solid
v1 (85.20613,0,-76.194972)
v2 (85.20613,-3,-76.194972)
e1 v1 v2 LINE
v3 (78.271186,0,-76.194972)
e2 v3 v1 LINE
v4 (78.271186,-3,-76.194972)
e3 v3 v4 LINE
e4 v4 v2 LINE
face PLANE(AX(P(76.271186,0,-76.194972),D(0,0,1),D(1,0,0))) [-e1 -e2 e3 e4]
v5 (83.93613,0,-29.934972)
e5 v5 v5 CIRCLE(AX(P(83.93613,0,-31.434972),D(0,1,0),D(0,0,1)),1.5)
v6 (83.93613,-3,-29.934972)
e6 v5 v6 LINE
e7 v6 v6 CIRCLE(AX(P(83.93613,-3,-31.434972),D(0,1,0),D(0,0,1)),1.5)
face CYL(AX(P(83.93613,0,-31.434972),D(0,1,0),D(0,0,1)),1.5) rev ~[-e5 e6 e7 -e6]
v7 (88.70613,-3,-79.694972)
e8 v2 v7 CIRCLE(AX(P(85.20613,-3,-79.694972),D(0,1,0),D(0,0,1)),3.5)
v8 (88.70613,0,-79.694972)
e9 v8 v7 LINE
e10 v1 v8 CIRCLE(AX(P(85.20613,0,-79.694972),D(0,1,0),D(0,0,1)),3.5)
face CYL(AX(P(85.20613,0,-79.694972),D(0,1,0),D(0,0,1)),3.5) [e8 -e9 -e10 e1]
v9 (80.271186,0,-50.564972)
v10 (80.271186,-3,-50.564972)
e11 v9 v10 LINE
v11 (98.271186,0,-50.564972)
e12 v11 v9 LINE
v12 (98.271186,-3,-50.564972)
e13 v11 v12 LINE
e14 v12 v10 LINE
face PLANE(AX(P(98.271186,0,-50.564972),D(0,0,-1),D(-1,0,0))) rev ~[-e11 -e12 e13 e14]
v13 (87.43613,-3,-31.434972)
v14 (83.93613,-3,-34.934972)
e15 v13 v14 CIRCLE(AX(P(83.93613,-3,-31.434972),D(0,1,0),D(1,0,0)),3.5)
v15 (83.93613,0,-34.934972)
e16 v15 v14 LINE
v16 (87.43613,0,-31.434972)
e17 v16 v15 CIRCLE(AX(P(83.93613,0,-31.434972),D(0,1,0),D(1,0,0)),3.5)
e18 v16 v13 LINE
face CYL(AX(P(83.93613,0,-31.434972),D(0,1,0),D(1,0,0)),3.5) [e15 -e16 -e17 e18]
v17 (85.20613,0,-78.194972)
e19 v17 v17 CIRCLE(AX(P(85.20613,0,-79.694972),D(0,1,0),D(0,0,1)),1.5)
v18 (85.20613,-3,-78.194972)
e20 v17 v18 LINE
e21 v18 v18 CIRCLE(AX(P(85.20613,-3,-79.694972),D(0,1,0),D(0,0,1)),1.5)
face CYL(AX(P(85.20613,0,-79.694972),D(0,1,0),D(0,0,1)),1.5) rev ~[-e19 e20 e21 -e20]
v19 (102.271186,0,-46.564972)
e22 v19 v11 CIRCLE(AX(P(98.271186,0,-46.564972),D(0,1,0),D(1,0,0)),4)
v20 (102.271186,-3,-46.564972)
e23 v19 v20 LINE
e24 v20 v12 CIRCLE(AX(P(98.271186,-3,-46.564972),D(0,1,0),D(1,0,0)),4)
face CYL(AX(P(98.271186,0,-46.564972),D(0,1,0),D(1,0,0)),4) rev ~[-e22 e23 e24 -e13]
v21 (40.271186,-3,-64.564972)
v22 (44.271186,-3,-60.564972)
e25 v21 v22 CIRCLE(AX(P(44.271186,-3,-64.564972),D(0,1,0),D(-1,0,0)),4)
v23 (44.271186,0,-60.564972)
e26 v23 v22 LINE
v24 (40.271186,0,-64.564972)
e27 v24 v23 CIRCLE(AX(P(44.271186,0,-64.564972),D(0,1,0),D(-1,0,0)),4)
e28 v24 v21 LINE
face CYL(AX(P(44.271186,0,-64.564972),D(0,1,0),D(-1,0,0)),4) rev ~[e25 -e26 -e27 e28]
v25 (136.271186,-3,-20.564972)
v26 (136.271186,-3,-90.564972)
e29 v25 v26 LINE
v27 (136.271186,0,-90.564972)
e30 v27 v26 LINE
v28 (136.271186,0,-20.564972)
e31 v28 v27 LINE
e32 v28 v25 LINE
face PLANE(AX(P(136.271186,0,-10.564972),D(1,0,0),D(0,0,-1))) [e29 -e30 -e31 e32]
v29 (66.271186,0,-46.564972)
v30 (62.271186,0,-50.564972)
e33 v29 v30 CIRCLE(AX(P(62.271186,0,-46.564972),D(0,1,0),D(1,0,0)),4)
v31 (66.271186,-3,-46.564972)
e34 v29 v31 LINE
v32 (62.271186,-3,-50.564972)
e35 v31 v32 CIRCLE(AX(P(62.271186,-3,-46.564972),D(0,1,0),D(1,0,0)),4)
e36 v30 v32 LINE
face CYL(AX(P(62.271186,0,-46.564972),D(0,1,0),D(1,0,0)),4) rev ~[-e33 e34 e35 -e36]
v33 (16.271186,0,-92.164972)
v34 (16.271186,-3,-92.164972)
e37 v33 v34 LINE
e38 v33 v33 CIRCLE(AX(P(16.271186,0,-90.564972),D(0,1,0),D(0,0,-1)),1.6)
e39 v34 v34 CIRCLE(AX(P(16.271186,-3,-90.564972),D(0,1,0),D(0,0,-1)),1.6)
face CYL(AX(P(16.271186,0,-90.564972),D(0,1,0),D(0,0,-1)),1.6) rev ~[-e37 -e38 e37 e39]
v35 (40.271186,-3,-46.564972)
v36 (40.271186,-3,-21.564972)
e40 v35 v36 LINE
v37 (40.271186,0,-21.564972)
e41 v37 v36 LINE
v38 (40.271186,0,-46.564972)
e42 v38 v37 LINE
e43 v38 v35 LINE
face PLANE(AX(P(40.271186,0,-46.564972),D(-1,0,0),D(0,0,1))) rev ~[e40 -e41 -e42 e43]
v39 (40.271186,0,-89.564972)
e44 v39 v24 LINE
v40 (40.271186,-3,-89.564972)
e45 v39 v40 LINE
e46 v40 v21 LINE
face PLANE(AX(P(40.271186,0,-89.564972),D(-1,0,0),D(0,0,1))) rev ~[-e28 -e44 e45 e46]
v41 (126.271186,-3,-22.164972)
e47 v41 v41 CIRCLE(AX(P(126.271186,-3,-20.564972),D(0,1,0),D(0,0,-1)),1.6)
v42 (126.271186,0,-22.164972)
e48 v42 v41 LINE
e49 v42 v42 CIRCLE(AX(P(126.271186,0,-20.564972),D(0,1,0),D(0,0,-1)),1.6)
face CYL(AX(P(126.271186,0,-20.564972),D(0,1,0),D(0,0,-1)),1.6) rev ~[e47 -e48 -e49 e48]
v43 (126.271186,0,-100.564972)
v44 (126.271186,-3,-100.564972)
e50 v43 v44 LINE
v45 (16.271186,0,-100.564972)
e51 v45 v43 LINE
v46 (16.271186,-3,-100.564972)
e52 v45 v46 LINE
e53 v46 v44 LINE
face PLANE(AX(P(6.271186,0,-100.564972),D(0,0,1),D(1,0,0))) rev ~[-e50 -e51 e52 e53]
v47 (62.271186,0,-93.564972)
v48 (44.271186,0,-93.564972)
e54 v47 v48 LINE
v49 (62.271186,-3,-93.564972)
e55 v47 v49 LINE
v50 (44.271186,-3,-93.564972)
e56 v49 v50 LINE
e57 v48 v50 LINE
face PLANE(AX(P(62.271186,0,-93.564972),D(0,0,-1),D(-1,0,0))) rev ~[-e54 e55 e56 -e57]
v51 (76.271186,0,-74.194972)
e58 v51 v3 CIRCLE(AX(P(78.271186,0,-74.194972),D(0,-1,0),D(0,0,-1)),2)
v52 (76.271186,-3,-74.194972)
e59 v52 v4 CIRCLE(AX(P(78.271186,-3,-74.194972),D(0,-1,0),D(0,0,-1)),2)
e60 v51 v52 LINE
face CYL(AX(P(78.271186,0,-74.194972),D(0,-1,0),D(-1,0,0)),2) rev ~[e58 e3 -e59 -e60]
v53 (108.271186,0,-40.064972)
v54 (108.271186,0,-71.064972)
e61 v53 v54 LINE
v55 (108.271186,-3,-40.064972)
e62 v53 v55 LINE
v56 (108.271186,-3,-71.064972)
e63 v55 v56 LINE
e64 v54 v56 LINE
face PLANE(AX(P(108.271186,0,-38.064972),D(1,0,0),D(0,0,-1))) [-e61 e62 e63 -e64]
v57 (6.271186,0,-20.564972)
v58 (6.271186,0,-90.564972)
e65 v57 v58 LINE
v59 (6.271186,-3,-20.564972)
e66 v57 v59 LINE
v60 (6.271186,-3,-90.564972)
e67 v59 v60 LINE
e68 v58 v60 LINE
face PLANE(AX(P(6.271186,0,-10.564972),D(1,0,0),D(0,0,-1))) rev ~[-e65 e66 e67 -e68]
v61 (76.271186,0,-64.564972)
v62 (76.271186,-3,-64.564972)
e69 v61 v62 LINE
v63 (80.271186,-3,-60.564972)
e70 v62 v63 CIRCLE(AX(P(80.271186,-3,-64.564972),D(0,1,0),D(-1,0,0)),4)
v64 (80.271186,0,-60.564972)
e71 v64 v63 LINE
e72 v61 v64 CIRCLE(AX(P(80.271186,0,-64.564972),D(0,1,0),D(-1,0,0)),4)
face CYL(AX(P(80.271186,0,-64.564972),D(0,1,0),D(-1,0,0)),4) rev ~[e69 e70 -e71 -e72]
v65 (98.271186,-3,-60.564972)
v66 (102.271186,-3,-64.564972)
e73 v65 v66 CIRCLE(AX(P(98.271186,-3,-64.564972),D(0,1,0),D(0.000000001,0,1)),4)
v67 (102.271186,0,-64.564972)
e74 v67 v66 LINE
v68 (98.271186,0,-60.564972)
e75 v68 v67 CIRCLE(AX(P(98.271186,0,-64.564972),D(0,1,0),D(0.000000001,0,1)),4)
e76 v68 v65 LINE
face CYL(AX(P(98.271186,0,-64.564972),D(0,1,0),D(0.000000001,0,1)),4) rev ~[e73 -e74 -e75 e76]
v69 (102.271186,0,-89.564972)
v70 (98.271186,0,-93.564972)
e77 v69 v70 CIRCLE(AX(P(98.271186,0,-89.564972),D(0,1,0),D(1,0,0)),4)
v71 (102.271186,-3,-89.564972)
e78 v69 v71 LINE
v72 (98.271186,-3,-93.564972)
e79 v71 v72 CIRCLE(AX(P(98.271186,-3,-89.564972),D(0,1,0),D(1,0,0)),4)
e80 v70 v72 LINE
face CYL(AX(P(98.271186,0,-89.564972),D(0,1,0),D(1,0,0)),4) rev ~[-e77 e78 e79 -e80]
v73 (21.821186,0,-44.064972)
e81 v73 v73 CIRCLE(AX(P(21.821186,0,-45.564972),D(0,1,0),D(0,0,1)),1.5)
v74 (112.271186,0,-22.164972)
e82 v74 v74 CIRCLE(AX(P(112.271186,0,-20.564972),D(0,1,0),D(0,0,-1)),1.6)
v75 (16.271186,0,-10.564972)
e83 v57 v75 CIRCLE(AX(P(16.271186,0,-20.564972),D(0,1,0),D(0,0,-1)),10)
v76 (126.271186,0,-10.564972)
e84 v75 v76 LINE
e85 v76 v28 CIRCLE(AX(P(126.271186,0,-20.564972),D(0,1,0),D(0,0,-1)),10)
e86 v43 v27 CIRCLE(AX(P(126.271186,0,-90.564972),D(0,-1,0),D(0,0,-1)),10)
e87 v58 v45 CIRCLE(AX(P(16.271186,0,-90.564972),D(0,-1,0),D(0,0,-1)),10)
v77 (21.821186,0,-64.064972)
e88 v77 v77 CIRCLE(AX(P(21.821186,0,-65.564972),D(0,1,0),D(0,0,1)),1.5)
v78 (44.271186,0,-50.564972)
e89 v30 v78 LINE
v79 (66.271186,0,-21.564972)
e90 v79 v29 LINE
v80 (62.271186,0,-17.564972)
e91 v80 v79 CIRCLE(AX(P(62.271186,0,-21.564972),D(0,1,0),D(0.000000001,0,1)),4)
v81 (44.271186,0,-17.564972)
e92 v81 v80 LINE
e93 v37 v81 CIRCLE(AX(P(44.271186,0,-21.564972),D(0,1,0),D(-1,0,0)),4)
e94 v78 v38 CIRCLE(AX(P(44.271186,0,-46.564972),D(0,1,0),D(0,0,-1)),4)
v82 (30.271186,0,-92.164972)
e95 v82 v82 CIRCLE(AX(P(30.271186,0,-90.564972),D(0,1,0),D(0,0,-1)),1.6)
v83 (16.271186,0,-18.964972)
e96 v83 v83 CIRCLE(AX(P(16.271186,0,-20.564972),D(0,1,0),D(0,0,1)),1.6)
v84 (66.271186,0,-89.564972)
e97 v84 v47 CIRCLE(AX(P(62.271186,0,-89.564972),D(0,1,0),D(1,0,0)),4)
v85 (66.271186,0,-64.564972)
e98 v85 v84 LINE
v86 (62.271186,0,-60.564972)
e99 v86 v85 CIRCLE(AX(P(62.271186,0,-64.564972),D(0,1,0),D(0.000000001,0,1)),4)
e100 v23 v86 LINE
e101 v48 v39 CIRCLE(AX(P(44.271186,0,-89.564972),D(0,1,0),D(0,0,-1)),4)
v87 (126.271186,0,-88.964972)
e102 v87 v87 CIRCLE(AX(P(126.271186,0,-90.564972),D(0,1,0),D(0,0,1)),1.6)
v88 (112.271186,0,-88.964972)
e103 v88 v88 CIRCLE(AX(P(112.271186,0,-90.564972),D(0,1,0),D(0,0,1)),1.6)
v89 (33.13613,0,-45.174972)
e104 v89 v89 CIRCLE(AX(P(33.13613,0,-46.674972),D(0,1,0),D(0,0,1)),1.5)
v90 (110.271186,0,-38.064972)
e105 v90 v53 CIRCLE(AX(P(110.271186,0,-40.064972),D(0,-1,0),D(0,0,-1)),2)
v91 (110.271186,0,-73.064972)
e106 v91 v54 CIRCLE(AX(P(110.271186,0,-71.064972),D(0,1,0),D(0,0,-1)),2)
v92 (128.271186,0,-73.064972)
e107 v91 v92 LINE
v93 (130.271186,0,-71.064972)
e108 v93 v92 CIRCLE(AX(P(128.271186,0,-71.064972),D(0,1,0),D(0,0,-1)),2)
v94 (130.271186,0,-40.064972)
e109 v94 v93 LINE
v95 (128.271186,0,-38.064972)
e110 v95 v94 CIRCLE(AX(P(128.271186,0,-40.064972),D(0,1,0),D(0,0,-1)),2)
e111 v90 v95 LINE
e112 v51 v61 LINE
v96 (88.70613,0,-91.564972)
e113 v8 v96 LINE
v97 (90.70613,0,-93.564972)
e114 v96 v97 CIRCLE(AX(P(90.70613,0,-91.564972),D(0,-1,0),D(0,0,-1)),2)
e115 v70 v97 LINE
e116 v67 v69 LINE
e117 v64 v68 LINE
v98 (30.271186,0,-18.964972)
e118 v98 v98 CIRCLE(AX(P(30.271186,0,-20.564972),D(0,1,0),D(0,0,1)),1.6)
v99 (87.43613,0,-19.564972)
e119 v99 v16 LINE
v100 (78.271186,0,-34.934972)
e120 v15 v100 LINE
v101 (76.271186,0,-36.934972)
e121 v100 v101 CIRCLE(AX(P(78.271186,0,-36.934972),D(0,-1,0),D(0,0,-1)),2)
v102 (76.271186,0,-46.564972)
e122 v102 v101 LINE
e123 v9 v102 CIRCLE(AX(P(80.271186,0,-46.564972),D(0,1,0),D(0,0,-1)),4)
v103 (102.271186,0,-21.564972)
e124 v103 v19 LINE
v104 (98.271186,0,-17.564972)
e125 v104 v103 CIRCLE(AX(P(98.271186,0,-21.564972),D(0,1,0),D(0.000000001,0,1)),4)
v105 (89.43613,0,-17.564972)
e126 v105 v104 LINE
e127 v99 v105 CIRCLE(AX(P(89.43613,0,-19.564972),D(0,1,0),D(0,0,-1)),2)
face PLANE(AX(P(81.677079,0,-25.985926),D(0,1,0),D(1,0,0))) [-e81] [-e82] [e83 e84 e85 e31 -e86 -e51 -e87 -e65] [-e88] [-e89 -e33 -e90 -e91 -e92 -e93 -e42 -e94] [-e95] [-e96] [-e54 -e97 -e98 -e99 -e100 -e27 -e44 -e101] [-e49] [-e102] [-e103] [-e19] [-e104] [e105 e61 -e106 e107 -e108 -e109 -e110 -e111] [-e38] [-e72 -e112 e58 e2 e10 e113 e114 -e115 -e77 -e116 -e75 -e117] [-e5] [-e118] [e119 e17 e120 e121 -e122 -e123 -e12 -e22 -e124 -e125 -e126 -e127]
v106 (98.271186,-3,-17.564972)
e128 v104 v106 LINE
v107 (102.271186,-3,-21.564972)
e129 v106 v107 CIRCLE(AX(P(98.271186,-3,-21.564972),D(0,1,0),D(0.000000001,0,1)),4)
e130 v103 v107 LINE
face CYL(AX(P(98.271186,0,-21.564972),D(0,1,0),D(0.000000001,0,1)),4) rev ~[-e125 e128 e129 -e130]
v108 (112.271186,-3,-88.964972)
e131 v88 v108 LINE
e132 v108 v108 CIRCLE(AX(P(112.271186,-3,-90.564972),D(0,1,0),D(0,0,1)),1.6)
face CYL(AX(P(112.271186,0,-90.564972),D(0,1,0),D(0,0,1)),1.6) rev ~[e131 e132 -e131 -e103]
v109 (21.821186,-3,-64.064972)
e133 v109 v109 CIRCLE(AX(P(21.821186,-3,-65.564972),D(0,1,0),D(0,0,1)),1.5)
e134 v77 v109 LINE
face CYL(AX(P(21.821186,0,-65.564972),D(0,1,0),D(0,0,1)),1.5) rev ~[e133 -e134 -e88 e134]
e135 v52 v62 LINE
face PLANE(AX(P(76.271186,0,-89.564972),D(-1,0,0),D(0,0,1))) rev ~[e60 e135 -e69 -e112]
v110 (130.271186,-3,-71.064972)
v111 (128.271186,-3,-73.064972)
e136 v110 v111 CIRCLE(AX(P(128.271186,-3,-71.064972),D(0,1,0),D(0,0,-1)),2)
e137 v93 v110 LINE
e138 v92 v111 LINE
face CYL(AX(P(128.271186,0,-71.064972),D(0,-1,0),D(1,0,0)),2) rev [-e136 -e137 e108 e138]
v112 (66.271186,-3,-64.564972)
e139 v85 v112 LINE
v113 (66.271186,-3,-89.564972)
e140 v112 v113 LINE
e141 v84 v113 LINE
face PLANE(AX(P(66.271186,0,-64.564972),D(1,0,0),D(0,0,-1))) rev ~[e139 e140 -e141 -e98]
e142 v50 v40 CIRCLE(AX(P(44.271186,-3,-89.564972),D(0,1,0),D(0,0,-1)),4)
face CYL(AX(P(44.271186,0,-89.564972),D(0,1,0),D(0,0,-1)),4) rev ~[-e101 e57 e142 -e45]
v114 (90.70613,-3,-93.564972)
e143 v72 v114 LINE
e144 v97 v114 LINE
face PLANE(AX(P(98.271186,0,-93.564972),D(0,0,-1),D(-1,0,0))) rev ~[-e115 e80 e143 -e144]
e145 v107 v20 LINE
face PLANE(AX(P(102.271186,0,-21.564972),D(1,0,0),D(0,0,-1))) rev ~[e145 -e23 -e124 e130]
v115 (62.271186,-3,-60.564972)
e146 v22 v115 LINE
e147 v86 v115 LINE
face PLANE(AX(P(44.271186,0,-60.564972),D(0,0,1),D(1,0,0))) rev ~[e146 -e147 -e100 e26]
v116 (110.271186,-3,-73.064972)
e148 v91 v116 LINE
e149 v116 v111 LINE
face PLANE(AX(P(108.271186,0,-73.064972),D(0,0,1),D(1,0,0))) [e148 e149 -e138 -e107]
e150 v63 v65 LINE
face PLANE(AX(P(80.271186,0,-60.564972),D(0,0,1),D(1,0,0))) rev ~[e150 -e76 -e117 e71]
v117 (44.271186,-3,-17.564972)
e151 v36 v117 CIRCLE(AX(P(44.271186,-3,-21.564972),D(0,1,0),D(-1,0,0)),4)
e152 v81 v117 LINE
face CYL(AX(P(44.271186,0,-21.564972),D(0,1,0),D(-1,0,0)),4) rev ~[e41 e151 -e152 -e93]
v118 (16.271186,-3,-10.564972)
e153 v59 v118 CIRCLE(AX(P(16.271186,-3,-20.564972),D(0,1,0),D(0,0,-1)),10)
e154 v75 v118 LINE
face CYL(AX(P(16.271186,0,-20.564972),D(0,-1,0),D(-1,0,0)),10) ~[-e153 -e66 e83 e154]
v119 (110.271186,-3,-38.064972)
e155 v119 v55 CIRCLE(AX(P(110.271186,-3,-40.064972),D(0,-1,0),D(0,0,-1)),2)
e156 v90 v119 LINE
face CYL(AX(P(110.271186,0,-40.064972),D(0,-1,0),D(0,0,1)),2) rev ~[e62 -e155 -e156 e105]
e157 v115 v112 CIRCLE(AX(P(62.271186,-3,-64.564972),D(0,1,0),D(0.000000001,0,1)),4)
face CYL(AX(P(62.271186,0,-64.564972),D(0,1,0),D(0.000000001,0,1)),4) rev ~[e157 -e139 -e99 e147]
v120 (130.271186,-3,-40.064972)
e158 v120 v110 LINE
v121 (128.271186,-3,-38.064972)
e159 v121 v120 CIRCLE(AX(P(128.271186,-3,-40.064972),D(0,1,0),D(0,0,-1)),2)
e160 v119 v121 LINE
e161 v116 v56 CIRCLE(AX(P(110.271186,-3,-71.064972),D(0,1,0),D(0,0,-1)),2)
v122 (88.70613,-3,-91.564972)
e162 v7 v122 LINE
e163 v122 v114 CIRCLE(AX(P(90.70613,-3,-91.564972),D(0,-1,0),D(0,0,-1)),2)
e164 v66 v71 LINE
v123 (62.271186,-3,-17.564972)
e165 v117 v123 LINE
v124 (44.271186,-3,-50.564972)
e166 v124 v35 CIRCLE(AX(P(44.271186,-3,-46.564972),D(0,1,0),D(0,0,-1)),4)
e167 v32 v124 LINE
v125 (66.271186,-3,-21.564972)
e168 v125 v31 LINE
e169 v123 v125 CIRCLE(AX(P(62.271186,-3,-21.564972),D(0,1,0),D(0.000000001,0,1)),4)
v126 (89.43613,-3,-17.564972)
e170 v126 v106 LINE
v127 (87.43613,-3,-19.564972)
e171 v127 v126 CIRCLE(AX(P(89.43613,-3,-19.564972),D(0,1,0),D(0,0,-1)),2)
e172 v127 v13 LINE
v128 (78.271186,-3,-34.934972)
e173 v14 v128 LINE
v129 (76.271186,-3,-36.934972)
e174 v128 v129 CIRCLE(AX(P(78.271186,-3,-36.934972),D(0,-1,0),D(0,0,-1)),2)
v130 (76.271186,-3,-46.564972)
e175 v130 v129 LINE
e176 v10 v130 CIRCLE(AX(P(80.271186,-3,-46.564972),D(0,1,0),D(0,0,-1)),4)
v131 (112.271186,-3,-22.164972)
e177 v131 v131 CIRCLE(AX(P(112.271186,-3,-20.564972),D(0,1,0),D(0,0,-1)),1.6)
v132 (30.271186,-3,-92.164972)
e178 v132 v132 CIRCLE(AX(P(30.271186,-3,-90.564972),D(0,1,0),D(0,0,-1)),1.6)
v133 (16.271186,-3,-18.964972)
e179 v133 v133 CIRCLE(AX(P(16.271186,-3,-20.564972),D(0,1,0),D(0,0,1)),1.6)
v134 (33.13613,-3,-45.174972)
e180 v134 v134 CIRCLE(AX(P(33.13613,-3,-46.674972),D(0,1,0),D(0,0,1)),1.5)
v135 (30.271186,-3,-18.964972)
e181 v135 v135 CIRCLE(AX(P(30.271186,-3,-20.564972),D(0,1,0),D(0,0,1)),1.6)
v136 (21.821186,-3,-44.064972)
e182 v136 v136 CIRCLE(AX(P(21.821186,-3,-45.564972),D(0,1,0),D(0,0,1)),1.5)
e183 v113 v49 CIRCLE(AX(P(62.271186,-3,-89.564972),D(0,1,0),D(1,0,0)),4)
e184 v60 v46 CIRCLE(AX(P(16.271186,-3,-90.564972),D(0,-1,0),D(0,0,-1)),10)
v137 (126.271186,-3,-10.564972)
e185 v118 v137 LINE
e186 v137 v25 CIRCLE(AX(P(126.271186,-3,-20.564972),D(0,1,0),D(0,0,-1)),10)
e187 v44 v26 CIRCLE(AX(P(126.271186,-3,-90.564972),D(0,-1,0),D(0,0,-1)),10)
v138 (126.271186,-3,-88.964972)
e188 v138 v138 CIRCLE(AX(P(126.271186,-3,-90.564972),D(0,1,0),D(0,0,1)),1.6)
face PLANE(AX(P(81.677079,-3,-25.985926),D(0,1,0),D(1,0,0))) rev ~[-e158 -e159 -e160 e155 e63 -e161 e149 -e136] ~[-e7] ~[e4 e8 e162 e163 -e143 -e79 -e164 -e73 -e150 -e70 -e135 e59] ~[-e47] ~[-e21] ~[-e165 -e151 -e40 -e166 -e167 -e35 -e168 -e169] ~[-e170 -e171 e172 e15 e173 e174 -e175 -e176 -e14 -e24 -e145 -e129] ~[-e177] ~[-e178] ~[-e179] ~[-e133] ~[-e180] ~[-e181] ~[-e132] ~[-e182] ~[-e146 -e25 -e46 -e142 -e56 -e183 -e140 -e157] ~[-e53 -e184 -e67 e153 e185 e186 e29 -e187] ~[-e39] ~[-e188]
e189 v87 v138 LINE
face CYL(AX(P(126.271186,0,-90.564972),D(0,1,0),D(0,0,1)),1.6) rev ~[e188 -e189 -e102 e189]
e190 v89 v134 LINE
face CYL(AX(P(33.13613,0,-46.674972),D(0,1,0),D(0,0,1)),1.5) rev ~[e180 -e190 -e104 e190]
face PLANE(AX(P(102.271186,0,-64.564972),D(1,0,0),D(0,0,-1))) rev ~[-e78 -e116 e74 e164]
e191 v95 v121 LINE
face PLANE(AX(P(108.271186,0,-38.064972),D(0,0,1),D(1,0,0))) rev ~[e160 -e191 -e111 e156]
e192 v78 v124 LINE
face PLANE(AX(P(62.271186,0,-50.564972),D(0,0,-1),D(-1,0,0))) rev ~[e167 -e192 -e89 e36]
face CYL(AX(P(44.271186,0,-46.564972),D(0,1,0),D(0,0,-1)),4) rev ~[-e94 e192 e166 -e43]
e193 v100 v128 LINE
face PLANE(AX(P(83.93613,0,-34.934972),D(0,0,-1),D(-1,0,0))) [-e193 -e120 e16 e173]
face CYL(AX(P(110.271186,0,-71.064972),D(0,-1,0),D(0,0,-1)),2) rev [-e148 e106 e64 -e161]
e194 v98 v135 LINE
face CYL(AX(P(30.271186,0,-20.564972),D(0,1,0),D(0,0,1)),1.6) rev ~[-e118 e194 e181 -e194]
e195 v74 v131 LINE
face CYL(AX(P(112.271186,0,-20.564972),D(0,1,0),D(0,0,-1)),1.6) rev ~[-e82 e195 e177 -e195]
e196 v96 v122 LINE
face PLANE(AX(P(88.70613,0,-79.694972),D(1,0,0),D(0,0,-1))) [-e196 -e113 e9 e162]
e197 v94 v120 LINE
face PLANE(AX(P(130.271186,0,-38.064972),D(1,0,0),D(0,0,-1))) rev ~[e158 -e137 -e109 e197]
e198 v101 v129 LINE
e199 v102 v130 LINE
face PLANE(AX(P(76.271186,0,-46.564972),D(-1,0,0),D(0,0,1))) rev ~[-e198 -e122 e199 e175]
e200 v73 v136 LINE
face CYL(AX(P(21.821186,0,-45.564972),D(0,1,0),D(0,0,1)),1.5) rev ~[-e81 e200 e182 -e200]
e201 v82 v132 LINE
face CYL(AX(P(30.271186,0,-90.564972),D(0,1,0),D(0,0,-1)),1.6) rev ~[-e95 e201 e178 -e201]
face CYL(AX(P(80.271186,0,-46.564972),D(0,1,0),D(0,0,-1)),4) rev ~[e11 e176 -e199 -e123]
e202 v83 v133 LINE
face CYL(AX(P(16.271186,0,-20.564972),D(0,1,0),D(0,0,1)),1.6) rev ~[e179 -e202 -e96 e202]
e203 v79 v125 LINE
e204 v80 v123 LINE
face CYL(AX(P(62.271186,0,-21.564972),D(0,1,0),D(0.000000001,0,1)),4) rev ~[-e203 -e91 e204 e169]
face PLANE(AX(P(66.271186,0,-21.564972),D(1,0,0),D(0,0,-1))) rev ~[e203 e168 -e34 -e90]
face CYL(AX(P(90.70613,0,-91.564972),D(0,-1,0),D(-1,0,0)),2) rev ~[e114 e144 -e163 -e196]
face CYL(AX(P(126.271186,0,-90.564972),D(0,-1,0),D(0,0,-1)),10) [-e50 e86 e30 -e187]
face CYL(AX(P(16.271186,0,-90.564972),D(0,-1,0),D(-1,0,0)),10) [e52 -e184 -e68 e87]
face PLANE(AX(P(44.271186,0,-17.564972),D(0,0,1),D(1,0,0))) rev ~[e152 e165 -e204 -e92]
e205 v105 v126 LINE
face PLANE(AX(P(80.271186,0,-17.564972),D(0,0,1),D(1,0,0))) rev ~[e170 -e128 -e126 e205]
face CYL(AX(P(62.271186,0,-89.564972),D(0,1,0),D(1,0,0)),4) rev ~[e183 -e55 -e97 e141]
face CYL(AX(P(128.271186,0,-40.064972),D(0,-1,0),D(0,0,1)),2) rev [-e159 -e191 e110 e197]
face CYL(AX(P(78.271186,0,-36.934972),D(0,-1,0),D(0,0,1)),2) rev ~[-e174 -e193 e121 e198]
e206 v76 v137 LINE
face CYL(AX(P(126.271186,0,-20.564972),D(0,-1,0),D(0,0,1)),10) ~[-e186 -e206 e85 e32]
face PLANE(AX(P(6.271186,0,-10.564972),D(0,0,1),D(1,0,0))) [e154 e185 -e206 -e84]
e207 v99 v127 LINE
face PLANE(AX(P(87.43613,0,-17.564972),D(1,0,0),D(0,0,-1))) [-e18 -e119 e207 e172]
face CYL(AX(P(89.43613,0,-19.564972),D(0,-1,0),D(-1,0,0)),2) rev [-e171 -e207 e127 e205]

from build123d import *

# Parameters (mm, degrees)
SKETCH2_W           = 130
SKETCH2_H           = 90
BOSS_EXTRUDE1_DEPTH = 3
SKETCH3_R           = 1.5
CUT_EXTRUDE1_DEPTH  = 10
SKETCH4_R           = 1.6
CUT_EXTRUDE2_DEPTH  = 10
FILLET1_R           = 10
CUT_EXTRUDE3_DEPTH  = 10
SKETCH6_R           = 1.5
BOSS_EXTRUDE4_DEPTH = 3
SKETCH6_6_R         = 1.5
CUT_EXTRUDE4_DEPTH  = 3
SKETCH8_R           = 1.5
CUT_EXTRUDE5_DEPTH  = 10
SKETCH9_W           = 22
SKETCH9_H           = 35
CUT_EXTRUDE6_DEPTH  = 10
FILLET2_R           = 2


with BuildPart() as part:
    # Sketch2 → Boss-Extrude1 (new body)
    with BuildSketch(Plane(origin=(0, 0, 0), x_dir=(1, 0, 0), z_dir=(0, 1, 0))):
        with Locations((71.271186441, 55.564971751)):
            Rectangle(SKETCH2_W, SKETCH2_H)
    extrude(amount=-BOSS_EXTRUDE1_DEPTH)

    # Sketch3 → Cut-Extrude1 (cut)
    with BuildSketch(Plane(origin=(0, 0, 0), x_dir=(1, 0, 0), z_dir=(0, 1, 0))):
        with Locations(Location((126.271186441, 63.564971751, 0), (0, 0, 270))):
            Circle(SKETCH3_R)
        with Locations(Location((126.271186441, 47.564971751, 0), (0, 0, 270))):
            Circle(SKETCH3_R)
        with Locations(Location((112.271186441, 47.564971751, 0), (0, 0, 270))):
            Circle(SKETCH3_R)
        with Locations(Location((112.271186441, 63.564971751, 0), (0, 0, 270))):
            Circle(SKETCH3_R)
        with Locations(Location((16.271186441, 47.564971751, 0), (0, 0, 90))):
            Circle(SKETCH3_R)
        with Locations(Location((30.271186441, 47.564971751, 0), (0, 0, 90))):
            Circle(SKETCH3_R)
        with Locations(Location((16.271186441, 63.564971751, 0), (0, 0, 90))):
            Circle(SKETCH3_R)
        with Locations(Location((30.271186441, 63.564971751, 0), (0, 0, 90))):
            Circle(SKETCH3_R)
    extrude(amount=-CUT_EXTRUDE1_DEPTH, mode=Mode.SUBTRACT)

    # Sketch4 → Cut-Extrude2 (cut)
    with BuildSketch(Plane(origin=(0, 0, 0), x_dir=(1, 0, 0), z_dir=(0, 1, 0))):
        with Locations(Location((16.271186441, 20.564971751, 0), (0, 0, 270))):
            Circle(SKETCH4_R)
        with Locations(Location((30.271186441, 20.564971751, 0), (0, 0, 270))):
            Circle(SKETCH4_R)
        with Locations(Location((30.271186441, 90.564971751, 0), (0, 0, 90))):
            Circle(SKETCH4_R)
        with Locations(Location((16.271186441, 90.564971751, 0), (0, 0, 90))):
            Circle(SKETCH4_R)
        with Locations(Location((112.271186441, 20.564971751, 0), (0, 0, 90))):
            Circle(SKETCH4_R)
        with Locations(Location((126.271186441, 20.564971751, 0), (0, 0, 90))):
            Circle(SKETCH4_R)
        with Locations(Location((126.271186441, 90.564971751, 0), (0, 0, 270))):
            Circle(SKETCH4_R)
        with Locations(Location((112.271186441, 90.564971751, 0), (0, 0, 270))):
            Circle(SKETCH4_R)
    extrude(amount=-CUT_EXTRUDE2_DEPTH, mode=Mode.SUBTRACT)

    # Fillet1
    fillet1_edges = [part.edges().sort_by_distance(p)[0] for p in [
        (6.271186441, -1.5, -100.564971751),
        (136.271186441, -1.5, -100.564971751),
        (136.271186441, -1.5, -10.564971751),
        (6.271186441, -1.5, -10.564971751),
    ]]
    fillet(fillet1_edges, radius=FILLET1_R)

    # Sketch5 → Cut-Extrude3 (cut)
    with BuildSketch(Plane(origin=(0, 0, 0), x_dir=(1, 0, 0), z_dir=(0, 1, 0))):
        with BuildLine():
            Line((76.271186441, 89.564971751), (76.271186441, 64.564971751))
            ThreePointArc((76.271186441, 64.564971751), (77.442759316, 61.736544627), (80.271186441, 60.564971751))
            Line((80.271186441, 60.564971751), (98.271186441, 60.564971751))
            ThreePointArc((98.271186441, 60.564971751), (101.099613565, 61.736544627), (102.271186441, 64.564971751))
            Line((102.271186441, 64.564971751), (102.271186441, 89.564971751))
            ThreePointArc((102.271186441, 89.564971751), (101.099613565, 92.393398876), (98.271186441, 93.564971751))
            Line((98.271186441, 93.564971751), (80.271186441, 93.564971751))
            ThreePointArc((80.271186441, 93.564971751), (77.442759316, 92.393398876), (76.271186441, 89.564971751))
        make_face()
        with BuildLine():
            Line((40.271186441, 89.564971751), (40.271186441, 64.564971751))
            ThreePointArc((40.271186441, 64.564971751), (41.442759316, 61.736544627), (44.271186441, 60.564971751))
            Line((44.271186441, 60.564971751), (62.271186441, 60.564971751))
            ThreePointArc((62.271186441, 60.564971751), (65.099613565, 61.736544627), (66.271186441, 64.564971751))
            Line((66.271186441, 64.564971751), (66.271186441, 89.564971751))
            ThreePointArc((66.271186441, 89.564971751), (65.099613565, 92.393398876), (62.271186441, 93.564971751))
            Line((62.271186441, 93.564971751), (44.271186441, 93.564971751))
            ThreePointArc((44.271186441, 93.564971751), (41.442759316, 92.393398876), (40.271186441, 89.564971751))
        make_face()
        with BuildLine():
            Line((66.271186441, 21.564971751), (66.271186441, 46.564971751))
            ThreePointArc((66.271186441, 46.564971751), (65.099613565, 49.393398876), (62.271186441, 50.564971751))
            Line((62.271186441, 50.564971751), (44.271186441, 50.564971751))
            ThreePointArc((44.271186441, 50.564971751), (41.442759316, 49.393398876), (40.271186441, 46.564971751))
            Line((40.271186441, 46.564971751), (40.271186441, 21.564971751))
            ThreePointArc((40.271186441, 21.564971751), (41.442759316, 18.736544627), (44.271186441, 17.564971751))
            Line((44.271186441, 17.564971751), (62.271186441, 17.564971751))
            ThreePointArc((62.271186441, 17.564971751), (65.099613565, 18.736544627), (66.271186441, 21.564971751))
        make_face()
        with BuildLine():
            Line((102.271186441, 21.564971751), (102.271186441, 46.564971751))
            ThreePointArc((102.271186441, 46.564971751), (101.099613565, 49.393398876), (98.271186441, 50.564971751))
            Line((98.271186441, 50.564971751), (80.271186441, 50.564971751))
            ThreePointArc((80.271186441, 50.564971751), (77.442759316, 49.393398876), (76.271186441, 46.564971751))
            Line((76.271186441, 46.564971751), (76.271186441, 21.564971751))
            ThreePointArc((76.271186441, 21.564971751), (77.442759316, 18.736544627), (80.271186441, 17.564971751))
            Line((80.271186441, 17.564971751), (98.271186441, 17.564971751))
            ThreePointArc((98.271186441, 17.564971751), (101.099613565, 18.736544627), (102.271186441, 21.564971751))
        make_face()
    extrude(amount=-CUT_EXTRUDE3_DEPTH, mode=Mode.SUBTRACT)

    # Sketch6 → Boss-Extrude4 (add)
    # profile 1 of 10: a face of its own
    with BuildSketch(Plane(origin=(0, 0, 0), x_dir=(1, 0, 0), z_dir=(0, 1, 0))):
        with BuildLine():
            Line((87.436129721, 17.564971751), (87.436129721, 31.434971751))
            ThreePointArc((87.436129721, 31.434971751), (86.411003455, 33.909845486), (83.936129721, 34.934971751))
            Line((83.936129721, 34.934971751), (76.271186441, 34.934971751))
            Line((76.271186441, 34.934971751), (76.271186441, 17.564971751))
            Line((76.271186441, 17.564971751), (87.436129721, 17.564971751))
        make_face()
        with Locations(Location((83.936129721, 31.434971751, 0), (0, 0, 270))):
            Circle(SKETCH6_R, mode=Mode.SUBTRACT)
    # profile 2 of 10: a face of its own
    with BuildSketch(Plane(origin=(0, 0, 0), x_dir=(1, 0, 0), z_dir=(0, 1, 0))):
        with BuildLine():
            Line((88.706129721, 79.694971751), (88.706129721, 93.564971751))
            Line((88.706129721, 93.564971751), (76.271186441, 93.564971751))
            Line((76.271186441, 93.564971751), (76.271186441, 76.194971751))
            Line((76.271186441, 76.194971751), (85.206129721, 76.194971751))
            ThreePointArc((85.206129721, 76.194971751), (87.681003455, 77.220098017), (88.706129721, 79.694971751))
        make_face()
        with Locations(Location((85.206129721, 79.694971751, 0), (0, 0, 270))):
            Circle(SKETCH6_R, mode=Mode.SUBTRACT)
    # profile 3 of 10: a face of its own
    with BuildSketch(Plane(origin=(0, 0, 0), x_dir=(1, 0, 0), z_dir=(0, 1, 0))):
        with Locations((30.271186441, 47.564971751)):
            Circle(SKETCH6_R)
    # profile 4 of 10: a face of its own
    with BuildSketch(Plane(origin=(0, 0, 0), x_dir=(1, 0, 0), z_dir=(0, 1, 0))):
        with Locations((16.271186441, 47.564971751)):
            Circle(SKETCH6_R)
    # profile 5 of 10: a face of its own
    with BuildSketch(Plane(origin=(0, 0, 0), x_dir=(1, 0, 0), z_dir=(0, 1, 0))):
        with Locations((16.271186441, 63.564971751)):
            Circle(SKETCH6_R)
    # profile 6 of 10: a face of its own
    with BuildSketch(Plane(origin=(0, 0, 0), x_dir=(1, 0, 0), z_dir=(0, 1, 0))):
        with Locations((30.271186441, 63.564971751)):
            Circle(SKETCH6_R)
    # profile 7 of 10: a face of its own
    with BuildSketch(Plane(origin=(0, 0, 0), x_dir=(1, 0, 0), z_dir=(0, 1, 0))):
        with Locations((112.271186441, 47.564971751)):
            Circle(SKETCH6_R)
    # profile 8 of 10: a face of its own
    with BuildSketch(Plane(origin=(0, 0, 0), x_dir=(1, 0, 0), z_dir=(0, 1, 0))):
        with Locations((112.271186441, 63.564971751)):
            Circle(SKETCH6_R)
    # profile 9 of 10: a face of its own
    with BuildSketch(Plane(origin=(0, 0, 0), x_dir=(1, 0, 0), z_dir=(0, 1, 0))):
        with Locations((126.271186441, 63.564971751)):
            Circle(SKETCH6_R)
    # profile 10 of 10: a face of its own
    with BuildSketch(Plane(origin=(0, 0, 0), x_dir=(1, 0, 0), z_dir=(0, 1, 0))):
        with Locations((126.271186441, 47.564971751)):
            Circle(SKETCH6_R)
    extrude(amount=-BOSS_EXTRUDE4_DEPTH)

    # Sketch6<6> → Cut-Extrude4 (cut)
    with BuildSketch(Plane(origin=(0, 0, 0), x_dir=(1, 0, 0), z_dir=(0, 1, 0))):
        with Locations(Location((33.136129721, 46.674971751, 0), (0, 0, 270))):
            Circle(SKETCH6_6_R)
    extrude(amount=-CUT_EXTRUDE4_DEPTH, mode=Mode.SUBTRACT)

    # Sketch8 → Cut-Extrude5 (cut)
    with BuildSketch(Plane(origin=(0, 0, 0), x_dir=(1, 0, 0), z_dir=(0, 1, 0))):
        with Locations(Location((21.821186441, 65.564971751, 0), (0, 0, 270))):
            Circle(SKETCH8_R)
        with Locations(Location((21.821186441, 45.564971751, 0), (0, 0, 270))):
            Circle(SKETCH8_R)
    extrude(amount=-CUT_EXTRUDE5_DEPTH, mode=Mode.SUBTRACT)

    # Sketch9 → Cut-Extrude6 (cut)
    with BuildSketch(Plane(origin=(0, 0, 0), x_dir=(1, 0, 0), z_dir=(0, 1, 0))):
        with Locations((119.271186441, 55.564971751)):
            Rectangle(SKETCH9_W, SKETCH9_H)
    extrude(amount=-CUT_EXTRUDE6_DEPTH, mode=Mode.SUBTRACT)

    # Fillet2
    fillet2_edges = [part.edges().sort_by_distance(p)[0] for p in [
        (76.271186441, -1.5, -76.194971751),
        (88.706129721, -1.5, -93.564971751),
        (87.436129721, -1.5, -17.564971751),
        (76.271186441, -1.5, -34.934971751),
        (108.271186441, -1.5, -38.064971751),
        (108.271186441, -1.5, -73.064971751),
        (130.271186441, -1.5, -73.064971751),
        (130.271186441, -1.5, -38.064971751),
    ]]
    fillet(fillet2_edges, radius=FILLET2_R)


solid = part.part
